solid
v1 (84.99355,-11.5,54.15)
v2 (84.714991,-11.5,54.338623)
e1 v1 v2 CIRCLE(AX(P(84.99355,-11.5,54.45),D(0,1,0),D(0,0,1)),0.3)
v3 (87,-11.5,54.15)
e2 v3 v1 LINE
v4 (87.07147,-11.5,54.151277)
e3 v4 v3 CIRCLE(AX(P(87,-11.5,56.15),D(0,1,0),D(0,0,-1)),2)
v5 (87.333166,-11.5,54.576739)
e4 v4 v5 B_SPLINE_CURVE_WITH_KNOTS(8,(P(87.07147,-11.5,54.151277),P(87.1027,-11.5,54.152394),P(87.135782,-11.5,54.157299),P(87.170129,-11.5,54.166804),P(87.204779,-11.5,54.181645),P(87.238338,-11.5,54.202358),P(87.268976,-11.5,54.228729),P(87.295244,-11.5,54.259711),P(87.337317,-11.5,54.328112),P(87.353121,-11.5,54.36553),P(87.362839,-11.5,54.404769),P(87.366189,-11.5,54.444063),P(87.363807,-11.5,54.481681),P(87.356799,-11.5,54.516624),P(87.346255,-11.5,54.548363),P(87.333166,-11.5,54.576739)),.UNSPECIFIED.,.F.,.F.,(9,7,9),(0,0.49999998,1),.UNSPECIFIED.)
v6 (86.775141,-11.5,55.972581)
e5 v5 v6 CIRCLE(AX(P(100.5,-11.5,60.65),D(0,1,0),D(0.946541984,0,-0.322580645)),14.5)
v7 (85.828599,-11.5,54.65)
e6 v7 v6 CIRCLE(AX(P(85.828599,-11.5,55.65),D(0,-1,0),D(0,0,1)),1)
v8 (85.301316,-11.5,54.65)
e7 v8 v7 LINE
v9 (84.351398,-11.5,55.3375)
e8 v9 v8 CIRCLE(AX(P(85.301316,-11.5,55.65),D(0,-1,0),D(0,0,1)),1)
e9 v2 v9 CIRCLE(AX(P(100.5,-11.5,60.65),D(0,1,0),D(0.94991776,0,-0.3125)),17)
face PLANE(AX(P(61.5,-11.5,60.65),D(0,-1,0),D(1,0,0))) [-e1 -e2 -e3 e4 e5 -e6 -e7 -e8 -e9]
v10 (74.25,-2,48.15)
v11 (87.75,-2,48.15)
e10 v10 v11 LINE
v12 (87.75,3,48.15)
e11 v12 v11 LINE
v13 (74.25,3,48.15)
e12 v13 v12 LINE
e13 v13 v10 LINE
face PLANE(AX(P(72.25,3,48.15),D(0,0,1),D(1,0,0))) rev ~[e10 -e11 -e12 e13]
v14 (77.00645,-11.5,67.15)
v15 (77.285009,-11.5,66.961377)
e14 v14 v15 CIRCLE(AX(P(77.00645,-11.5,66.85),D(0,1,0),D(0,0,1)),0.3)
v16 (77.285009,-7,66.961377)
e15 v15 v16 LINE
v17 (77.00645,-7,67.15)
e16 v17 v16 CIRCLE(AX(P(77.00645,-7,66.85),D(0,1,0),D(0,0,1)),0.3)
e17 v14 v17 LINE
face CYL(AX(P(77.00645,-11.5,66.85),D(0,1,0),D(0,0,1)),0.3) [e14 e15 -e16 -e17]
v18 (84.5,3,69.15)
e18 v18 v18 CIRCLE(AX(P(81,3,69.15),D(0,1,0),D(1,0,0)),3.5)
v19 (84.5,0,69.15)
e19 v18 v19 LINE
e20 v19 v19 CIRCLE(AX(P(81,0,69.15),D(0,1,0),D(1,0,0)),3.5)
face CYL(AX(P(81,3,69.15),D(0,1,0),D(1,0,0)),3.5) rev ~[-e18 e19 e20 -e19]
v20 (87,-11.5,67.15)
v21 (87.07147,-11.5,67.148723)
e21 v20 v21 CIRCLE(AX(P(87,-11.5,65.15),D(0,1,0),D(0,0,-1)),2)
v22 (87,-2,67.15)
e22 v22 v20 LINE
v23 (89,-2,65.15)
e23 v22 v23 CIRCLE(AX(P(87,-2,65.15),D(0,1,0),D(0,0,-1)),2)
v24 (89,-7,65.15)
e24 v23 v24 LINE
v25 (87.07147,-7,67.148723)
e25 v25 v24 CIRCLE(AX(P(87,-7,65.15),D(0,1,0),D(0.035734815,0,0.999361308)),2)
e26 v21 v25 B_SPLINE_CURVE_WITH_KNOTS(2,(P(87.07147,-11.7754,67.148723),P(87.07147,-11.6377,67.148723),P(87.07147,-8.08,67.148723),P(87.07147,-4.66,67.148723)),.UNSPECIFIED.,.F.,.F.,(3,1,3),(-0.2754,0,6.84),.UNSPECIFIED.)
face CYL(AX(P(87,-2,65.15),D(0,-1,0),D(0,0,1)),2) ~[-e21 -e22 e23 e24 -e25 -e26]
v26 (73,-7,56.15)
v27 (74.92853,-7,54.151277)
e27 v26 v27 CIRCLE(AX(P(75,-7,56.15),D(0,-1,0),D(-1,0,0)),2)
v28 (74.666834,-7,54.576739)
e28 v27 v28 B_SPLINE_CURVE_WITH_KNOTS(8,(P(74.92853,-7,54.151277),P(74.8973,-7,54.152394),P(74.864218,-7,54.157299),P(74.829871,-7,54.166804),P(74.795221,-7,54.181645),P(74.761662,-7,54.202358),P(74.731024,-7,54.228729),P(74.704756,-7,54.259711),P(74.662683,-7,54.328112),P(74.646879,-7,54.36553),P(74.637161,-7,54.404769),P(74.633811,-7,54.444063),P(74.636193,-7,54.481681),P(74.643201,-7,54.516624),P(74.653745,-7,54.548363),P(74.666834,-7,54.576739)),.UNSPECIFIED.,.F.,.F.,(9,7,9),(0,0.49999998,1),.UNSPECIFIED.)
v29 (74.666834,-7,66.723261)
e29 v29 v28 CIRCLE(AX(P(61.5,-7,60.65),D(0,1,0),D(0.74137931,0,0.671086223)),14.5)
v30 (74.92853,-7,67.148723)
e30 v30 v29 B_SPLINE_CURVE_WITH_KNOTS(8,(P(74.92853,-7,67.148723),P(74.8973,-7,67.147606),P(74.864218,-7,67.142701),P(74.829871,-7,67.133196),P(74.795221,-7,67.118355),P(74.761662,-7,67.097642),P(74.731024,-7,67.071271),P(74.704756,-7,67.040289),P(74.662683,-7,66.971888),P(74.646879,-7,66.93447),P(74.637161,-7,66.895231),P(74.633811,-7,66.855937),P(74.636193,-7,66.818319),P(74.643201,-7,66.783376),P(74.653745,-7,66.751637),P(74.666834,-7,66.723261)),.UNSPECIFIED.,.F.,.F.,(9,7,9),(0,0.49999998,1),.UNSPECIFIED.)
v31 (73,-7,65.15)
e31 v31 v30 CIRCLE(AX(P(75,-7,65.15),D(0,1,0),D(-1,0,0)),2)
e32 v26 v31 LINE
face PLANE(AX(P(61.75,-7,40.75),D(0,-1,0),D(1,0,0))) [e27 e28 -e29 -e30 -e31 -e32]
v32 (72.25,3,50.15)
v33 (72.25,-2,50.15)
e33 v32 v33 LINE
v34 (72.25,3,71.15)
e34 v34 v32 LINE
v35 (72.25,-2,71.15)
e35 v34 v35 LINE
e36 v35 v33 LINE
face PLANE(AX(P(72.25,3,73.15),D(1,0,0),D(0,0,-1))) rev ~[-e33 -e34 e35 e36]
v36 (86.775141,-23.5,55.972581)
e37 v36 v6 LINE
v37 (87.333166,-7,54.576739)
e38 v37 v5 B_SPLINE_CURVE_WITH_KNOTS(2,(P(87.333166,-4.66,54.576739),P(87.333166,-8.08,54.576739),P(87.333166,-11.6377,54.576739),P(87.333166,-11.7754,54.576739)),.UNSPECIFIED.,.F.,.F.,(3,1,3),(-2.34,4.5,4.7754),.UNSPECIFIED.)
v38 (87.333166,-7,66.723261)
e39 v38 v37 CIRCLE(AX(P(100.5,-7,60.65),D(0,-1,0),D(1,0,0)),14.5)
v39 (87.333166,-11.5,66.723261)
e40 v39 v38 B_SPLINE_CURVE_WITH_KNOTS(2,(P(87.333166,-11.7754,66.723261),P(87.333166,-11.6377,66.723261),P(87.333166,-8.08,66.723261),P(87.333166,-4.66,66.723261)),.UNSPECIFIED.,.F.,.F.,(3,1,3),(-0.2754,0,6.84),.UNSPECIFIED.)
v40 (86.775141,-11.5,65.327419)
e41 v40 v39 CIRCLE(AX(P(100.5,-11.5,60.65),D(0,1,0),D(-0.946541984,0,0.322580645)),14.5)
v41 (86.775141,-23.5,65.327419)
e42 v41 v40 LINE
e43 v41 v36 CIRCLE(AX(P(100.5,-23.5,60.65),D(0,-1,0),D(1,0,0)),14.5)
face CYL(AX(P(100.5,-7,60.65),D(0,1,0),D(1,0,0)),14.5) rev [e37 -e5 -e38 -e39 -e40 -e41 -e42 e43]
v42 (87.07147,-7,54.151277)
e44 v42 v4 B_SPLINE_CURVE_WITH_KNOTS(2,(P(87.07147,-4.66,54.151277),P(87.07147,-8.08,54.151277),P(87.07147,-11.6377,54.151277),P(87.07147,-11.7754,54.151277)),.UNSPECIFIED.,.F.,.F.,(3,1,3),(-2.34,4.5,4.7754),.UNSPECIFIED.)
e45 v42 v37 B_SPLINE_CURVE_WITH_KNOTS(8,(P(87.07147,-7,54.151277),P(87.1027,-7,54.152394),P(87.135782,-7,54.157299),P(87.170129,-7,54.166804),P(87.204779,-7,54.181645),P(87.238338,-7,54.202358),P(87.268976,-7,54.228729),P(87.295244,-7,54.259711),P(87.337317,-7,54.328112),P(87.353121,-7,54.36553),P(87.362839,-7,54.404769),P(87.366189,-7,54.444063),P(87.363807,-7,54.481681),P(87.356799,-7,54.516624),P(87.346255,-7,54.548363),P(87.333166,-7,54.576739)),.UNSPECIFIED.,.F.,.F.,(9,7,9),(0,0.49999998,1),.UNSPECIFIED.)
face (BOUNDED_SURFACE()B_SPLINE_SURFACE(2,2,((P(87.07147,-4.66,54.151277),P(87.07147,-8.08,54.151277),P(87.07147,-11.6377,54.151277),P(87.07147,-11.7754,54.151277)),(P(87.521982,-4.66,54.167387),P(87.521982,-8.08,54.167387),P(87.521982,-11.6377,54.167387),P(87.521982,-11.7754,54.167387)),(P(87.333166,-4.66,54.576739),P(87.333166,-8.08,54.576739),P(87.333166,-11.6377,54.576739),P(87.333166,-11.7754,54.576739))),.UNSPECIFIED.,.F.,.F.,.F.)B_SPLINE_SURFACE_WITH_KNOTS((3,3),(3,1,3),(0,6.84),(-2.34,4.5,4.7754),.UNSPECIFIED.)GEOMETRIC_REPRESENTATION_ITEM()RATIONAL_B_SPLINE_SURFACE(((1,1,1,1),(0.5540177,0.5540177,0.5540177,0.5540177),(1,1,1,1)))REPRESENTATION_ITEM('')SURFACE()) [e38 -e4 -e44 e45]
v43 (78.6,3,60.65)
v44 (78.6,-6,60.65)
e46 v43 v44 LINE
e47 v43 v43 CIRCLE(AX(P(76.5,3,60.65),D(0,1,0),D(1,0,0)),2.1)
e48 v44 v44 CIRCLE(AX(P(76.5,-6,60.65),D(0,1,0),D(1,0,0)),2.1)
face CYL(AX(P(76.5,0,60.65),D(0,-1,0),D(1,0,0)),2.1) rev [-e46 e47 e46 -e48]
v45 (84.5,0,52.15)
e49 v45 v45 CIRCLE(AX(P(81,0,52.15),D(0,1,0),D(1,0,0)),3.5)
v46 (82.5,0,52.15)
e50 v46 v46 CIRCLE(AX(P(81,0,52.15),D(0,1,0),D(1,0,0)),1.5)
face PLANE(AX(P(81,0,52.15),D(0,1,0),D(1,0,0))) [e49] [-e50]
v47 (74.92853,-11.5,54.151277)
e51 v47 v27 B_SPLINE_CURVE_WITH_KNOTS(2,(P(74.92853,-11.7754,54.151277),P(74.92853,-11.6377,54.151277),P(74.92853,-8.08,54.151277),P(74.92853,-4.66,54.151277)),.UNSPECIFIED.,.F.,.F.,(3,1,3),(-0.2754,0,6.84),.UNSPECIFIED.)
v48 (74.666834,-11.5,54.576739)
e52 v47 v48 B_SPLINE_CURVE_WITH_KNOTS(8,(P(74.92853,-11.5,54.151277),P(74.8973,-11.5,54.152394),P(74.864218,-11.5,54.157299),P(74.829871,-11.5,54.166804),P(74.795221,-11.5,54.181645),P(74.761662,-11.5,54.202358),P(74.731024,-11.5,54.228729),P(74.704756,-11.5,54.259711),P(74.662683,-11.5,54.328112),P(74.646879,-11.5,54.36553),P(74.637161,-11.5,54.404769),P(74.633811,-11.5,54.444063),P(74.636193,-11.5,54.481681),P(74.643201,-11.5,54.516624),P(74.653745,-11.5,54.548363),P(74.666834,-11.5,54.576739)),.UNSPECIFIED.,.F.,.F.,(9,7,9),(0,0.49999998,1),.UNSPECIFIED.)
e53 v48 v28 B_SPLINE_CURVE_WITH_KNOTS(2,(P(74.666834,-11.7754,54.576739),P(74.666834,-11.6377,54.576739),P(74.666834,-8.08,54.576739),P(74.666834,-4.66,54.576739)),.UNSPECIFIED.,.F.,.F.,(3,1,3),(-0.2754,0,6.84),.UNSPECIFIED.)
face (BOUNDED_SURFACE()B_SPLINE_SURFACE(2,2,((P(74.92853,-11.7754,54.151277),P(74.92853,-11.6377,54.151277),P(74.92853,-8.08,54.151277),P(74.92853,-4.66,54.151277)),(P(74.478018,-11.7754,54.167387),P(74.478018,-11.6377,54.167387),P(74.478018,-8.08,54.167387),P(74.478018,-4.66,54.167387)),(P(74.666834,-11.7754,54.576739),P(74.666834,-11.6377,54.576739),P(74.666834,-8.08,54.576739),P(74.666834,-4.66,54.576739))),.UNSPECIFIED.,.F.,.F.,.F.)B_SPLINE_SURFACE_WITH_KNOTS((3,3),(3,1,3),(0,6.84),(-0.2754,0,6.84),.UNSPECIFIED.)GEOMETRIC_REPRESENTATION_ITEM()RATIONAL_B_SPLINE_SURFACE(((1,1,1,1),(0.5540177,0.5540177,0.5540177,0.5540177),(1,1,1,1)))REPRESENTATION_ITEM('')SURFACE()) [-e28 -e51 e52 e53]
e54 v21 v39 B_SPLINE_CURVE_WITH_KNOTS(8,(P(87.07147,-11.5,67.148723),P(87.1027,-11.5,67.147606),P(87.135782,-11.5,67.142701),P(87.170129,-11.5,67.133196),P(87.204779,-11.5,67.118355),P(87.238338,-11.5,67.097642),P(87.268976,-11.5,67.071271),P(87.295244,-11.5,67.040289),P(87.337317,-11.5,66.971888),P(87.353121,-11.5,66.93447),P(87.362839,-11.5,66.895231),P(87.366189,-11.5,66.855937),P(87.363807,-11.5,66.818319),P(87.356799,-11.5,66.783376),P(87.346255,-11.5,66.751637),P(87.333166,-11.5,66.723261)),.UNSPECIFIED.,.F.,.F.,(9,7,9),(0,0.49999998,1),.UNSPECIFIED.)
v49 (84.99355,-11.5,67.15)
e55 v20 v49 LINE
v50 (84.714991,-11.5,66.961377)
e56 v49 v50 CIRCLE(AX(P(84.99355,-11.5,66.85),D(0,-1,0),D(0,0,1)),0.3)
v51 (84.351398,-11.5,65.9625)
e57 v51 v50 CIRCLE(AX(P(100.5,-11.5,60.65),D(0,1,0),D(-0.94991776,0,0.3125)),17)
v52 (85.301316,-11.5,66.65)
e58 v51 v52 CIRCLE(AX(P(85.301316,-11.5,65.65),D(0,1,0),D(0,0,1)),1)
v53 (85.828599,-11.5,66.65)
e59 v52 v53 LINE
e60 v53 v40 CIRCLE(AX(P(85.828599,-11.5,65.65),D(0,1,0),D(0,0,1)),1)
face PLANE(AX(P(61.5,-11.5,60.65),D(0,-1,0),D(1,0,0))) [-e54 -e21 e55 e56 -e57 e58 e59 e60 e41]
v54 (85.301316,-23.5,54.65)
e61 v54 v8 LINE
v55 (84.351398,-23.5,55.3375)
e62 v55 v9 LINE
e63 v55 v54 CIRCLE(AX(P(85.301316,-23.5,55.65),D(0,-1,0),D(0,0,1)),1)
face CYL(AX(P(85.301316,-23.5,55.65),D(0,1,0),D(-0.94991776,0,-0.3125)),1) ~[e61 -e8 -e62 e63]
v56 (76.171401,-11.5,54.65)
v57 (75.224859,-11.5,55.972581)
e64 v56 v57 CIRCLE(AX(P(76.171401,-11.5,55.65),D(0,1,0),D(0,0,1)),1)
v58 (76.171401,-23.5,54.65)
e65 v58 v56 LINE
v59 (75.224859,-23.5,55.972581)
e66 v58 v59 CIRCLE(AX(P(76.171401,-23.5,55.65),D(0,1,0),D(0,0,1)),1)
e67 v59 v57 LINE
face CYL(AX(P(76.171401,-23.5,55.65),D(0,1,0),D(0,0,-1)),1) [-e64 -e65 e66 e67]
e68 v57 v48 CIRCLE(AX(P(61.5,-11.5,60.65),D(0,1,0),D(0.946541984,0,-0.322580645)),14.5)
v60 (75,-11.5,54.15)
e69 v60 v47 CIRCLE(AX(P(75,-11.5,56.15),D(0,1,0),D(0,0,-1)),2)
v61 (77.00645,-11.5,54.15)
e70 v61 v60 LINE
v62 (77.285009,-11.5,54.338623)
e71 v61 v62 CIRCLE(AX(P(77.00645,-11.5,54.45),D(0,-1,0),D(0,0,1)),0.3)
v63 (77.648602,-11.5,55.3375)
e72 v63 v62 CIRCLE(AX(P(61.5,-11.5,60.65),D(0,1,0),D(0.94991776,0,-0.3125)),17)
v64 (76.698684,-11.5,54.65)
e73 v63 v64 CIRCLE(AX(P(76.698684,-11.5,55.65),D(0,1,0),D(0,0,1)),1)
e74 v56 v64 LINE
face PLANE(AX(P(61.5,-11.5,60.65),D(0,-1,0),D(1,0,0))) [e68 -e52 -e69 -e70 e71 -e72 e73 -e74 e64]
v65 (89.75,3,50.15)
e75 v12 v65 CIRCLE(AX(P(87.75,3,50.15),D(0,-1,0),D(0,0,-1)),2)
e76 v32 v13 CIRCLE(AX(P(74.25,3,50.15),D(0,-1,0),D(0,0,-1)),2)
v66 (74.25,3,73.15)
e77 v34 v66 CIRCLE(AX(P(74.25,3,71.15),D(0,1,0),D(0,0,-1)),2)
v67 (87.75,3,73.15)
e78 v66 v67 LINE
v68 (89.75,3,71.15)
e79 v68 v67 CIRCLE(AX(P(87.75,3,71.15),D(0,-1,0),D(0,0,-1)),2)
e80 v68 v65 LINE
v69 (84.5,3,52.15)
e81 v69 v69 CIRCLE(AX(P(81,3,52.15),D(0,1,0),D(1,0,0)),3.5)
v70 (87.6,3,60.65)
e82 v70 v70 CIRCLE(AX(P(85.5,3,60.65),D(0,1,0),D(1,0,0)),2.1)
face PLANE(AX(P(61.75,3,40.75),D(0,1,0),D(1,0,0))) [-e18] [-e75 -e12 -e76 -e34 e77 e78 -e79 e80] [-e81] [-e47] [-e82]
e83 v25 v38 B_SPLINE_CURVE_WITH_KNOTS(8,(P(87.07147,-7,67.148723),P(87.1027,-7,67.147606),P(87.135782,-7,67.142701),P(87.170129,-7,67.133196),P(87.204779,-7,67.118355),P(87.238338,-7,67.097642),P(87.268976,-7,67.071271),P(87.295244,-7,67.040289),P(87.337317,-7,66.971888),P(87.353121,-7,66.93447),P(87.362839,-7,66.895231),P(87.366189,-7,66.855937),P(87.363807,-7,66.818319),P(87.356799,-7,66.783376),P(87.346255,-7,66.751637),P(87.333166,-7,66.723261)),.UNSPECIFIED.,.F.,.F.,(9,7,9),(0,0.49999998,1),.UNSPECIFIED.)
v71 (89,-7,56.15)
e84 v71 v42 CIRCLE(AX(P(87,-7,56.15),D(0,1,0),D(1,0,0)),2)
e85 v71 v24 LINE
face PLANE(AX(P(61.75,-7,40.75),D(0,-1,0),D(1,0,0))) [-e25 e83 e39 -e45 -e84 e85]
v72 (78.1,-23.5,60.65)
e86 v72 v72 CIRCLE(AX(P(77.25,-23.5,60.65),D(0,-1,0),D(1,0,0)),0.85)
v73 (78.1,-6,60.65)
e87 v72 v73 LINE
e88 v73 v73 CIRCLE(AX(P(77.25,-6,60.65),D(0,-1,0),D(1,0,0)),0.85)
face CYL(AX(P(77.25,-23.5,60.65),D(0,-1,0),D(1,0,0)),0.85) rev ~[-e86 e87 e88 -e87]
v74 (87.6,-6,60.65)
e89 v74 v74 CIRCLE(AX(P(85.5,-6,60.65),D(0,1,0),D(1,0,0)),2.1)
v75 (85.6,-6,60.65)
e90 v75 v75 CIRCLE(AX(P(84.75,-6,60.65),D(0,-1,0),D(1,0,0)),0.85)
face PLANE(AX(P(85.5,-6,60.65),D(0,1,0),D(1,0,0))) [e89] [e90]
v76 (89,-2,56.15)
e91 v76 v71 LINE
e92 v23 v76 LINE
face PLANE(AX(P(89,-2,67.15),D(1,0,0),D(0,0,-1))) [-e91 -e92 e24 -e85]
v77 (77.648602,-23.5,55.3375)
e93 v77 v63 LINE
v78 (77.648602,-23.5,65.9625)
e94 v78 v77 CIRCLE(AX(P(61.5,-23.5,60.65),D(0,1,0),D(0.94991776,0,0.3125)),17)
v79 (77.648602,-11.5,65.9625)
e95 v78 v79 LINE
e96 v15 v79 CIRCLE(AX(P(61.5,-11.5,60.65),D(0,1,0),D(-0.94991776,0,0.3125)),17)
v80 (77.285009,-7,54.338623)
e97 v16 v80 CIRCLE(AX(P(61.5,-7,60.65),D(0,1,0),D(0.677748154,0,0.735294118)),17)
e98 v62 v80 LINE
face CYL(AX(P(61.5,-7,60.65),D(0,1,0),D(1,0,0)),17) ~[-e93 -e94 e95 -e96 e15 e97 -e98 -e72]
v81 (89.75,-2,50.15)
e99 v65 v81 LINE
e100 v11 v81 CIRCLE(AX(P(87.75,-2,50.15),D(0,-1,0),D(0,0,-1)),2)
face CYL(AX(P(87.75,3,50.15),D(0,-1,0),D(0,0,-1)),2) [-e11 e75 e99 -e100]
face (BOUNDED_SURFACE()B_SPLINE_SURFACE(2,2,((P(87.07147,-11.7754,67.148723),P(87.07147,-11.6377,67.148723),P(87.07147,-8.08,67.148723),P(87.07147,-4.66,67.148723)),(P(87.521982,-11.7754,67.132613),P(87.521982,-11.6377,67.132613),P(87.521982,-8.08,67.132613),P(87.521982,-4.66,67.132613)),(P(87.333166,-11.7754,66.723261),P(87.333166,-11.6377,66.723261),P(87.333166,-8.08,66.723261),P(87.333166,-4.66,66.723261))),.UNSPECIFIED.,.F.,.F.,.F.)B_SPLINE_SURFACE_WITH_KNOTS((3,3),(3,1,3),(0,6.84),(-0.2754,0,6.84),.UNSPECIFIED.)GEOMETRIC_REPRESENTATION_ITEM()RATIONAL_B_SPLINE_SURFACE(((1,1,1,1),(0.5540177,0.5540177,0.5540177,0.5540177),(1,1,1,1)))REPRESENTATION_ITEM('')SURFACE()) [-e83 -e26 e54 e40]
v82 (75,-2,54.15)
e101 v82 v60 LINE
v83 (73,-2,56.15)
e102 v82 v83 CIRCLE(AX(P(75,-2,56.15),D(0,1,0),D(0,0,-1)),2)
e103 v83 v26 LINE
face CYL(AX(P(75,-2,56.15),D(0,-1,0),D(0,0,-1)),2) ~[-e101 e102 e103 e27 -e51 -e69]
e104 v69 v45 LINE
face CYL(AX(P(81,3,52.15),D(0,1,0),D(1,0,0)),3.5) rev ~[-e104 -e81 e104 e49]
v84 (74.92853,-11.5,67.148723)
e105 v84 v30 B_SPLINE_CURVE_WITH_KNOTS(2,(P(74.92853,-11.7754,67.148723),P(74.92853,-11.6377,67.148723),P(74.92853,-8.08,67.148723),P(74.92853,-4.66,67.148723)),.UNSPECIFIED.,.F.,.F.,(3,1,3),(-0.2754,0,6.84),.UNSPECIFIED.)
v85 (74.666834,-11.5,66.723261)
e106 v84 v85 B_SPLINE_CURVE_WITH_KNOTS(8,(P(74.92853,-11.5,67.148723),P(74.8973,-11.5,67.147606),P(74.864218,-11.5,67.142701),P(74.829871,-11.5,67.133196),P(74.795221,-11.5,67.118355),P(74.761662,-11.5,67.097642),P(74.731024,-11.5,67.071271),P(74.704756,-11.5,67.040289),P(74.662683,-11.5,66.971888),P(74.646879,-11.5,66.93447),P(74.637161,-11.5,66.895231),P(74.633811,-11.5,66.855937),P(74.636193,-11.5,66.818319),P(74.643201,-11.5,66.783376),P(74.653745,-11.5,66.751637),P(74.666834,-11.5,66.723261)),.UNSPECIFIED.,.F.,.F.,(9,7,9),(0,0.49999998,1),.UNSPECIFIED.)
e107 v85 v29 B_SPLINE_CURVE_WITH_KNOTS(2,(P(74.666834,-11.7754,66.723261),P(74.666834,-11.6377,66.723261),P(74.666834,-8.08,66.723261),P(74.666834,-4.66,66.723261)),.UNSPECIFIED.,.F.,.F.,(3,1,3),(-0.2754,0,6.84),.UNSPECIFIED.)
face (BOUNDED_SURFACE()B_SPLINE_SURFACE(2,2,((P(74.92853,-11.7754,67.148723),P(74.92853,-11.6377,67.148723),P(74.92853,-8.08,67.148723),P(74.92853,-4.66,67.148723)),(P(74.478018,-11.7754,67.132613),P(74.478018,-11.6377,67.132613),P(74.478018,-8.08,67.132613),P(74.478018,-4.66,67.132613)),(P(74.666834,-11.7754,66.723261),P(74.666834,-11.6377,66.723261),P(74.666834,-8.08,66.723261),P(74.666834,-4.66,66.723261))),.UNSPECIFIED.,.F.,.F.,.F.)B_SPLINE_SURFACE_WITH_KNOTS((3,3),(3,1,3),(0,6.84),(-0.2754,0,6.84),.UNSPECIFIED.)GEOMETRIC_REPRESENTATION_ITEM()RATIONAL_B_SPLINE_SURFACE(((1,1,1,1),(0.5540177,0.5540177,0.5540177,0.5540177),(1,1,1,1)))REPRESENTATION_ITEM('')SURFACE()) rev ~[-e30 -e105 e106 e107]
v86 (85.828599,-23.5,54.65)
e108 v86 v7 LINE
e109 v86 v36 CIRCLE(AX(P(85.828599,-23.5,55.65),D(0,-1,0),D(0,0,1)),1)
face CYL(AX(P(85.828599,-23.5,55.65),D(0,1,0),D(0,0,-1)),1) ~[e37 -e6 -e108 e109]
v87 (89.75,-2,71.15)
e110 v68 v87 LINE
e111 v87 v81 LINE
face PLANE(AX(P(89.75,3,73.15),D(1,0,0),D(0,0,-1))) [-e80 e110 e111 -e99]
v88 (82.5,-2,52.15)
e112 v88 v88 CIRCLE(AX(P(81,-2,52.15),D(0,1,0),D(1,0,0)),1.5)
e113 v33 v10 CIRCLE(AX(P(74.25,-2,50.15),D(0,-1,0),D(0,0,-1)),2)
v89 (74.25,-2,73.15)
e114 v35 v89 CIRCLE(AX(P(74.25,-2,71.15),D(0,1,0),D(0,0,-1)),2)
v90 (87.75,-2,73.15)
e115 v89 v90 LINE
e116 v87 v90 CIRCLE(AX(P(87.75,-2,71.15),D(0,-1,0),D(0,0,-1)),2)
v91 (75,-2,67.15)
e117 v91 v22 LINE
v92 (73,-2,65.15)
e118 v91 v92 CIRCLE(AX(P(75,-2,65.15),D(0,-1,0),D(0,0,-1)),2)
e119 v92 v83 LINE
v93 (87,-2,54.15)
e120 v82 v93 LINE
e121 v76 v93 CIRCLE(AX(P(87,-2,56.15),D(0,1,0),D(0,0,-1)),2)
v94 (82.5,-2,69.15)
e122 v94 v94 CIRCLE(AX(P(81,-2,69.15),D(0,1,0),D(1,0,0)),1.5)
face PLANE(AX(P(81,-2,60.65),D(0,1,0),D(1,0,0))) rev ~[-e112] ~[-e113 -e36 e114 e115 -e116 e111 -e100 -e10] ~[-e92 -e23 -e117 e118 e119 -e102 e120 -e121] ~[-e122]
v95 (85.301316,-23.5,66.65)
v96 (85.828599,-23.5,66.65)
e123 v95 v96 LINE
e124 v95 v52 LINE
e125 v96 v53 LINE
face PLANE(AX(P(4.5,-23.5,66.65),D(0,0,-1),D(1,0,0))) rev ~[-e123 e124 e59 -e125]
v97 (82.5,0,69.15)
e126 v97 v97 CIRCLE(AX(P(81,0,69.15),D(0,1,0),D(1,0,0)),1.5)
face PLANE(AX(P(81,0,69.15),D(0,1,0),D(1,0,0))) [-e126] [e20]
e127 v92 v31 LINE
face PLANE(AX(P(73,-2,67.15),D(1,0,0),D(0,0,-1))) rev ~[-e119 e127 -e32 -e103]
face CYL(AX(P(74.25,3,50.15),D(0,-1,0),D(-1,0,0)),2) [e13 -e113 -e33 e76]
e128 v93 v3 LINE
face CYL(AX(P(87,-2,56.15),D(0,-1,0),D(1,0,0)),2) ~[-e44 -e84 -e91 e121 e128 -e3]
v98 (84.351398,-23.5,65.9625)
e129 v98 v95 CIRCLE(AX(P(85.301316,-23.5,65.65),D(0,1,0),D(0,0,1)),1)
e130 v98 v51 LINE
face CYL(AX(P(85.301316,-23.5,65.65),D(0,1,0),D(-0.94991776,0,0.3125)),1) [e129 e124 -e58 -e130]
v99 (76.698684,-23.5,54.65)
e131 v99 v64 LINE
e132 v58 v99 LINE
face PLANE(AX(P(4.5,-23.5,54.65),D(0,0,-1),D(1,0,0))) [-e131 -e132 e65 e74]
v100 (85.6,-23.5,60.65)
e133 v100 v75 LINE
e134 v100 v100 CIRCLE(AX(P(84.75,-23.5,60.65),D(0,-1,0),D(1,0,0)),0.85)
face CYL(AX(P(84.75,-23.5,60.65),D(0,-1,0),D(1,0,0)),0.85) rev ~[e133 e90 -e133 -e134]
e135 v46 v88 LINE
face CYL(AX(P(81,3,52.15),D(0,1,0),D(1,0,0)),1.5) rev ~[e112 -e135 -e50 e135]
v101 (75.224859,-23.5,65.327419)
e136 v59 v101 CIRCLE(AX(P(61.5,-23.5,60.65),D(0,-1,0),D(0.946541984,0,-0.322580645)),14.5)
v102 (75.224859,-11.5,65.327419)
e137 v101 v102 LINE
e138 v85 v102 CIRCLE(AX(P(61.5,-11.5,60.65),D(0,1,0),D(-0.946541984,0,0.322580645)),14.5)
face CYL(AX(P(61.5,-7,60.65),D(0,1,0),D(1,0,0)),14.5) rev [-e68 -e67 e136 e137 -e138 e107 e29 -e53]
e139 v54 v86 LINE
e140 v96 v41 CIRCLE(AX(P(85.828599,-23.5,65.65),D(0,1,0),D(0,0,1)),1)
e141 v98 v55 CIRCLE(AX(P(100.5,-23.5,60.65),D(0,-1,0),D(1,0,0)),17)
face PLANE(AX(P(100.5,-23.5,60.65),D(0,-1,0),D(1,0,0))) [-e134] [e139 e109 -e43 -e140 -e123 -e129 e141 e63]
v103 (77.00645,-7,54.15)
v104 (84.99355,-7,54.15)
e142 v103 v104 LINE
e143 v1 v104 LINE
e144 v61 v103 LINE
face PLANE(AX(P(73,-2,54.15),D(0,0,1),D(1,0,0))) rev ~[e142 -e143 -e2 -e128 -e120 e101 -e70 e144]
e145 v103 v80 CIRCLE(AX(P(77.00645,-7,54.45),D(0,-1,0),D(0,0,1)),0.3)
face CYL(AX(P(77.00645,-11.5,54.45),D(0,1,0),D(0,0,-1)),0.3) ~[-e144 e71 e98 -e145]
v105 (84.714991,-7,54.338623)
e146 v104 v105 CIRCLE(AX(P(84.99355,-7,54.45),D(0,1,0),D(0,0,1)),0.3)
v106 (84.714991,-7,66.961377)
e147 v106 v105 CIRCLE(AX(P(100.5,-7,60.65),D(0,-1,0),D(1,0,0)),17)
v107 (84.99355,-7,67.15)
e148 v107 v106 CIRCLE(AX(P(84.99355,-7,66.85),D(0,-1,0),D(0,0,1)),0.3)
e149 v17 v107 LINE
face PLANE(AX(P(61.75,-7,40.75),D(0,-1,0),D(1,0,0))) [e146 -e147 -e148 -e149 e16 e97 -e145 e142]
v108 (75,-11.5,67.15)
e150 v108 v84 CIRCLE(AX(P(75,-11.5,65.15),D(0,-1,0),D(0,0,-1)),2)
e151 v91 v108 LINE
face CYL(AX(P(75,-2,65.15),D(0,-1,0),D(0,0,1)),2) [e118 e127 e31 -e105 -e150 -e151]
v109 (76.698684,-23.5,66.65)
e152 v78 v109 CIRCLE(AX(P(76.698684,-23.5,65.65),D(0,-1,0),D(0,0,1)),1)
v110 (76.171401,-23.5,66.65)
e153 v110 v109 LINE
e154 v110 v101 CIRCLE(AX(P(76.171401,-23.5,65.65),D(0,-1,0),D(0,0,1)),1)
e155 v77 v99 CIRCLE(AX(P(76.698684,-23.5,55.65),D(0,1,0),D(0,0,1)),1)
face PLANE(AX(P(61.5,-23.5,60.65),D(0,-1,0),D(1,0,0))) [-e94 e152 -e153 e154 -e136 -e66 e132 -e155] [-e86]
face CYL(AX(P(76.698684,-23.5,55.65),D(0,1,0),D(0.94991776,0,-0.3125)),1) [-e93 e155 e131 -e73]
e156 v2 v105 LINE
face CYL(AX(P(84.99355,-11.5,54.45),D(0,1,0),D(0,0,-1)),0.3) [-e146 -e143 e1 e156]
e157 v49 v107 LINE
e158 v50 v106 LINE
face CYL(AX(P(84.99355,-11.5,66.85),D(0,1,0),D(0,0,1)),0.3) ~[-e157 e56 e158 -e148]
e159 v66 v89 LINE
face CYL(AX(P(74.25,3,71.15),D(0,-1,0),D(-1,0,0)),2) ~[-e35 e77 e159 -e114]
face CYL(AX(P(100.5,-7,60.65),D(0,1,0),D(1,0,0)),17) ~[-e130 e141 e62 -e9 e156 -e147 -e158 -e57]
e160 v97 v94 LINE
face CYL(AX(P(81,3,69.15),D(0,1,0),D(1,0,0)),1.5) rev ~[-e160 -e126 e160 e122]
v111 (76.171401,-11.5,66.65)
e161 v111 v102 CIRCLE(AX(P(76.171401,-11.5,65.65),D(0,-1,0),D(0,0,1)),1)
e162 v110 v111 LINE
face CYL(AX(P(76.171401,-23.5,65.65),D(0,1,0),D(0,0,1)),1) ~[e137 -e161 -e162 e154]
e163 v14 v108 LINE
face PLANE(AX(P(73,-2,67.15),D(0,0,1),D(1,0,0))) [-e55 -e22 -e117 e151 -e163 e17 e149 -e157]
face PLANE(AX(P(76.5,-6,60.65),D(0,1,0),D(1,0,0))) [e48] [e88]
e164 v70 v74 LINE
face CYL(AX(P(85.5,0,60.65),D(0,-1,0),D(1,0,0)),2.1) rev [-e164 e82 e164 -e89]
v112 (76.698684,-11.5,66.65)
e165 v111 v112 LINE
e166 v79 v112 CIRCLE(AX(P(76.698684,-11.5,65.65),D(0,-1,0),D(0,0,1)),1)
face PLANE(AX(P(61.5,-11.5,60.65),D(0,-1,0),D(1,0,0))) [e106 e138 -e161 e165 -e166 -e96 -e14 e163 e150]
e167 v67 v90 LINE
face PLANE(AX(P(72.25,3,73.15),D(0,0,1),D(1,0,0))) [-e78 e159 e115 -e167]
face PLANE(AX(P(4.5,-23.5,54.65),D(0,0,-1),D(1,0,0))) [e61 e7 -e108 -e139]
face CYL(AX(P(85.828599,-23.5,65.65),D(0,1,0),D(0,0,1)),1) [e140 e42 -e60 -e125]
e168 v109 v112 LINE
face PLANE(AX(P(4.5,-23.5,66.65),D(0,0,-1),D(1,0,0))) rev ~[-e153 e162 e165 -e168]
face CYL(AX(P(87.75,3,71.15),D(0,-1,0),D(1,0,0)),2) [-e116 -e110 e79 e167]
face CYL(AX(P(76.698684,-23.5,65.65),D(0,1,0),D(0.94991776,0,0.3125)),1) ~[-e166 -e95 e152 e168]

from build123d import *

# Parameters (mm, degrees)
SKETCH1_W           = 123.5
SKETCH1_H           = 81.5
BOSS_EXTRUDE1_DEPTH = 8
CHAMFER1_SIZE       = 10
SKETCH2_W           = 130
SKETCH2_H           = 88
BOSS_EXTRUDE2_DEPTH = 9
FILLET1_R           = 2
SKETCH3_W           = 124
SKETCH3_H           = 82
CUT_EXTRUDE1_DEPTH  = 2
FILLET2_R           = 2
SKETCH4_R           = 10
CUT_EXTRUDE2_DEPTH  = 18
SKETCH5_R           = 17
SKETCH5_R_2         = 14.5
BOSS_EXTRUDE3_DEPTH = 16.5
SKETCH6_W           = 170
SKETCH6_H           = 36.5
SKETCH6_W_2         = 114
SKETCH6_H_2         = 12
CUT_EXTRUDE3_DEPTH  = 12
FILLET3_R           = 1
SKETCH7_R           = 0.85
CUT_EXTRUDE4_DEPTH  = 20.75
SKETCH11_W          = 130
SKETCH11_H          = 10
CUT_EXTRUDE8_DEPTH  = 85.75
SKETCH13_R          = 2.1
CUT_EXTRUDE9_DEPTH  = 6
SKETCH15_R          = 2.1
SKETCH15_R_2        = 10
BOSS_EXTRUDE4_DEPTH = 3
SKETCH16_W          = 167.35282603
SKETCH16_H          = 111.231485579
SKETCH16_W_2        = 17.5
SKETCH16_H_2        = 25
CUT_EXTRUDE10_DEPTH = 27.5
CUT_EXTRUDE11_START = -5
SKETCH17_W          = 17.5
SKETCH17_H          = 25
SKETCH17_W_2        = 16
SKETCH17_H_2        = 13
CUT_EXTRUDE11_DEPTH = 22.5
FILLET4_R           = 2
SKETCH18_R          = 1.5
CUT_EXTRUDE12_DEPTH = 10
SKETCH19_R          = 3.5
CUT_EXTRUDE13_DEPTH = 3
FILLET5_R           = 0.3


with BuildPart() as part:
    # Sketch1 → Boss-Extrude1 (new body)
    with BuildSketch(Plane(origin=(0, 0, 0), x_dir=(1, 0, 0), z_dir=(0, 1, 0))):
        with Locations((61.75, -40.75)):
            Rectangle(SKETCH1_W, SKETCH1_H)
    extrude(amount=BOSS_EXTRUDE1_DEPTH)

    # Chamfer1
    chamfer1_edges = [part.edges().sort_by_distance(p)[0] for p in [
        (123.5, 4, 0),
        (123.5, 4, 81.5),
    ]]
    chamfer(chamfer1_edges, length=CHAMFER1_SIZE)

    # Sketch2 → Boss-Extrude2 (add)
    with BuildSketch(Plane.XZ):
        with Locations((61.75, 40.75)):
            Rectangle(SKETCH2_W, SKETCH2_H)
    extrude(amount=BOSS_EXTRUDE2_DEPTH)

    # Fillet1
    fillet1_edges = [part.edges().sort_by_distance(p)[0] for p in [
        (113.5, 4, 0),
        (123.5, 4, 71.5),
        (123.5, 4, 10),
        (113.5, 4, 81.5),
        (-3.25, -4.5, 84.75),
        (-3.25, -4.5, -3.25),
        (126.75, -4.5, -3.25),
        (126.75, -4.5, 84.75),
        (0, 4, 0),
        (0, 4, 81.5),
    ]]
    fillet(fillet1_edges, radius=FILLET1_R)

    # Sketch3 → Cut-Extrude1 (cut)
    with BuildSketch(Plane.XZ.offset(9)):
        with Locations((61.75, 40.75)):
            Rectangle(SKETCH3_W, SKETCH3_H)
    extrude(amount=-CUT_EXTRUDE1_DEPTH, mode=Mode.SUBTRACT)

    # Fillet2
    fillet2_edges = [part.edges().sort_by_distance(p)[0] for p in [
        (-0.25, -8, -0.25),
        (-0.25, -8, 81.75),
        (123.75, -8, 81.75),
        (123.75, -8, -0.25),
    ]]
    fillet(fillet2_edges, radius=FILLET2_R)

    # Sketch4 → Cut-Extrude2 (cut, through all)
    with BuildSketch(Plane(origin=(0, 8, 0), x_dir=(1, 0, 0), z_dir=(0, 1, 0))):
        with Locations((22.5, -20.85)):
            Circle(SKETCH4_R)
        with Locations((61.5, -20.85)):
            Circle(SKETCH4_R)
        with Locations((100.5, -20.85)):
            Circle(SKETCH4_R)
        with Locations((100.5, -60.65)):
            Circle(SKETCH4_R)
        with Locations((61.5, -60.65)):
            Circle(SKETCH4_R)
        with Locations((22.5, -60.65)):
            Circle(SKETCH4_R)
    extrude(amount=-CUT_EXTRUDE2_DEPTH, mode=Mode.SUBTRACT)

    # Sketch5 → Boss-Extrude3 (add)
    with BuildSketch(Plane.XZ.offset(7)):
        with Locations((22.5, 60.65)):
            Circle(SKETCH5_R)
        with Locations((22.5, 60.65)):
            Circle(SKETCH5_R_2, mode=Mode.SUBTRACT)
        with Locations((61.5, 60.65)):
            Circle(SKETCH5_R)
        with Locations((61.5, 60.65)):
            Circle(SKETCH5_R_2, mode=Mode.SUBTRACT)
        with Locations((100.5, 60.65)):
            Circle(SKETCH5_R)
        with Locations((100.5, 60.65)):
            Circle(SKETCH5_R_2, mode=Mode.SUBTRACT)
        with Locations((100.5, 20.85)):
            Circle(SKETCH5_R)
        with Locations((100.5, 20.85)):
            Circle(SKETCH5_R_2, mode=Mode.SUBTRACT)
        with Locations((61.5, 20.85)):
            Circle(SKETCH5_R)
        with Locations((61.5, 20.85)):
            Circle(SKETCH5_R_2, mode=Mode.SUBTRACT)
        with Locations((22.5, 20.85)):
            Circle(SKETCH5_R)
        with Locations((22.5, 20.85)):
            Circle(SKETCH5_R_2, mode=Mode.SUBTRACT)
    extrude(amount=BOSS_EXTRUDE3_DEPTH)

    # Sketch6 → Cut-Extrude3 (cut)
    with BuildSketch(Plane.XZ.offset(23.5)):
        with Locations((61.5, 20.85)):
            Rectangle(SKETCH6_W, SKETCH6_H)
        with Locations((61.5, 20.85)):
            Rectangle(SKETCH6_W_2, SKETCH6_H_2, mode=Mode.SUBTRACT)
        with Locations((61.5, 60.65)):
            Rectangle(SKETCH6_W, SKETCH6_H)
        with Locations((61.5, 60.65)):
            Rectangle(SKETCH6_W_2, SKETCH6_H_2, mode=Mode.SUBTRACT)
    extrude(amount=-CUT_EXTRUDE3_DEPTH, mode=Mode.SUBTRACT)

    # Fillet3
    fillet3_edges = [part.edges().sort_by_distance(p)[0] for p in [
        (87.299621218, -17.5, 66.65),
        (113.700378782, -17.5, 66.65),
        (113.700378782, -17.5, 54.65),
        (87.299621218, -17.5, 54.65),
        (9.299621218, -17.5, 54.65),
        (35.700378782, -17.5, 54.65),
        (6.594026279, -17.5, 54.65),
        (48.299621218, -17.5, 54.65),
        (74.700378782, -17.5, 54.65),
        (38.405973721, -17.5, 54.65),
        (45.594026279, -17.5, 54.65),
        (77.405973721, -17.5, 54.65),
        (84.594026279, -17.5, 54.65),
        (35.700378782, -17.5, 66.65),
        (9.299621218, -17.5, 66.65),
        (38.405973721, -17.5, 66.65),
        (45.594026279, -17.5, 66.65),
        (74.700378782, -17.5, 66.65),
        (48.299621218, -17.5, 66.65),
        (77.405973721, -17.5, 66.65),
        (84.594026279, -17.5, 66.65),
        (116.405973721, -17.5, 66.65),
        (116.405973721, -17.5, 54.65),
        (6.594026279, -17.5, 66.65),
        (35.700378782, -17.5, 14.85),
        (9.299621218, -17.5, 14.85),
        (9.299621218, -17.5, 26.85),
        (35.700378782, -17.5, 26.85),
        (113.700378782, -17.5, 26.85),
        (87.299621218, -17.5, 26.85),
        (116.405973721, -17.5, 26.85),
        (74.700378782, -17.5, 26.85),
        (48.299621218, -17.5, 26.85),
        (84.594026279, -17.5, 26.85),
        (77.405973721, -17.5, 26.85),
        (45.594026279, -17.5, 26.85),
        (38.405973721, -17.5, 26.85),
        (87.299621218, -17.5, 14.85),
        (113.700378782, -17.5, 14.85),
        (84.594026279, -17.5, 14.85),
        (77.405973721, -17.5, 14.85),
        (48.299621218, -17.5, 14.85),
        (74.700378782, -17.5, 14.85),
        (45.594026279, -17.5, 14.85),
        (38.405973721, -17.5, 14.85),
        (6.594026279, -17.5, 14.85),
        (6.594026279, -17.5, 26.85),
        (116.405973721, -17.5, 14.85),
    ]]
    fillet(fillet3_edges, radius=FILLET3_R)

    # Sketch7 → Cut-Extrude4 (cut)
    with BuildSketch(Plane.XZ.offset(23.5)):
        with Locations((6.75, 20.85)):
            Circle(SKETCH7_R)
        with Locations((38.25, 20.85)):
            Circle(SKETCH7_R)
        with Locations((45.75, 20.85)):
            Circle(SKETCH7_R)
        with Locations((77.25, 20.85)):
            Circle(SKETCH7_R)
        with Locations((84.75, 20.85)):
            Circle(SKETCH7_R)
        with Locations((116.25, 20.85)):
            Circle(SKETCH7_R)
        with Locations((116.25, 60.65)):
            Circle(SKETCH7_R)
        with Locations((84.75, 60.65)):
            Circle(SKETCH7_R)
        with Locations((77.25, 60.65)):
            Circle(SKETCH7_R)
        with Locations((45.75, 60.65)):
            Circle(SKETCH7_R)
        with Locations((38.25, 60.65)):
            Circle(SKETCH7_R)
        with Locations((6.75, 60.65)):
            Circle(SKETCH7_R)
    extrude(amount=-CUT_EXTRUDE4_DEPTH, mode=Mode.SUBTRACT)

    # Sketch11 → Cut-Extrude8 (cut, through all)
    with BuildSketch(Plane(origin=(0, 0, 0), x_dir=(-1, 0, 0), z_dir=(0, 0, -1))):
        with Locations((-61.75, 5)):
            Rectangle(SKETCH11_W, SKETCH11_H)
    extrude(amount=-CUT_EXTRUDE8_DEPTH, mode=Mode.SUBTRACT)

    # Sketch13 → Cut-Extrude9 (cut)
    with BuildSketch(Plane(origin=(0, 0, 0), x_dir=(1, 0, 0), z_dir=(0, 1, 0))):
        with Locations((116.25, -60.65)):
            Circle(SKETCH13_R)
        with Locations((85.5, -60.65)):
            Circle(SKETCH13_R)
        with Locations((76.5, -60.65)):
            Circle(SKETCH13_R)
        with Locations((116.25, -20.85)):
            Circle(SKETCH13_R)
        with Locations((85.5, -20.85)):
            Circle(SKETCH13_R)
        with Locations((76.5, -20.85)):
            Circle(SKETCH13_R)
        with Locations((46.5, -20.85)):
            Circle(SKETCH13_R)
        with Locations((37.5, -20.85)):
            Circle(SKETCH13_R)
        with Locations((6.75, -20.85)):
            Circle(SKETCH13_R)
        with Locations((6.75, -60.65)):
            Circle(SKETCH13_R)
        with Locations((37.5, -60.65)):
            Circle(SKETCH13_R)
        with Locations((46.5, -60.65)):
            Circle(SKETCH13_R)
    extrude(amount=-CUT_EXTRUDE9_DEPTH, mode=Mode.SUBTRACT)

    # Sketch15 → Boss-Extrude4 (add)
    with BuildSketch(Plane(origin=(0, 0, 0), x_dir=(1, 0, 0), z_dir=(0, 1, 0))):
        with BuildLine():
            Line((126.75, -82.75), (126.75, 1.25))
            ThreePointArc((126.75, 1.25), (126.164213562, 2.664213562), (124.75, 3.25))
            Line((124.75, 3.25), (-1.25, 3.25))
            ThreePointArc((-1.25, 3.25), (-2.664213562, 2.664213562), (-3.25, 1.25))
            Line((-3.25, 1.25), (-3.25, -82.75))
            ThreePointArc((-3.25, -82.75), (-2.664213562, -84.164213562), (-1.25, -84.75))
            Line((-1.25, -84.75), (124.75, -84.75))
            ThreePointArc((124.75, -84.75), (126.164213562, -84.164213562), (126.75, -82.75))
        make_face()
        with Locations((6.75, -60.65)):
            Circle(SKETCH15_R, mode=Mode.SUBTRACT)
        with Locations((22.5, -60.65)):
            Circle(SKETCH15_R_2, mode=Mode.SUBTRACT)
        with Locations((37.5, -60.65)):
            Circle(SKETCH15_R, mode=Mode.SUBTRACT)
        with Locations((46.5, -60.65)):
            Circle(SKETCH15_R, mode=Mode.SUBTRACT)
        with Locations((61.5, -60.65)):
            Circle(SKETCH15_R_2, mode=Mode.SUBTRACT)
        with Locations((76.5, -60.65)):
            Circle(SKETCH15_R, mode=Mode.SUBTRACT)
        with Locations((100.5, -60.65)):
            Circle(SKETCH15_R_2, mode=Mode.SUBTRACT)
        with Locations((116.25, -60.65)):
            Circle(SKETCH15_R, mode=Mode.SUBTRACT)
        with Locations((116.25, -20.85)):
            Circle(SKETCH15_R, mode=Mode.SUBTRACT)
        with Locations((100.5, -20.85)):
            Circle(SKETCH15_R_2, mode=Mode.SUBTRACT)
        with Locations((85.5, -20.85)):
            Circle(SKETCH15_R, mode=Mode.SUBTRACT)
        with Locations((76.5, -20.85)):
            Circle(SKETCH15_R, mode=Mode.SUBTRACT)
        with Locations((61.5, -20.85)):
            Circle(SKETCH15_R_2, mode=Mode.SUBTRACT)
        with Locations((46.5, -20.85)):
            Circle(SKETCH15_R, mode=Mode.SUBTRACT)
        with Locations((37.5, -20.85)):
            Circle(SKETCH15_R, mode=Mode.SUBTRACT)
        with Locations((22.5, -20.85)):
            Circle(SKETCH15_R_2, mode=Mode.SUBTRACT)
        with Locations((85.5, -60.65)):
            Circle(SKETCH15_R, mode=Mode.SUBTRACT)
        with Locations((6.75, -20.85)):
            Circle(SKETCH15_R, mode=Mode.SUBTRACT)
    extrude(amount=BOSS_EXTRUDE4_DEPTH)

    # Sketch16 → Cut-Extrude10 (cut, through all)
    with BuildSketch(Plane(origin=(0, 3, 0), x_dir=(1, 0, 0), z_dir=(0, 1, 0))):
        with Locations((62.017342261, -41.761195324)):
            Rectangle(SKETCH16_W, SKETCH16_H)
        with Locations((81, -60.65)):
            Rectangle(SKETCH16_W_2, SKETCH16_H_2, mode=Mode.SUBTRACT)
    extrude(amount=-CUT_EXTRUDE10_DEPTH, mode=Mode.SUBTRACT)

    # Sketch17 → Cut-Extrude11 (cut, through all)
    with BuildSketch(Plane(origin=(0, 3, 0), x_dir=(1, 0, 0), z_dir=(0, 1, 0)).offset(CUT_EXTRUDE11_START)):
        with Locations((81, -60.65)):
            Rectangle(SKETCH17_W, SKETCH17_H)
        with Locations((81, -60.65)):
            Rectangle(SKETCH17_W_2, SKETCH17_H_2, mode=Mode.SUBTRACT)
    extrude(amount=-CUT_EXTRUDE11_DEPTH, mode=Mode.SUBTRACT)

    # Fillet4
    fillet4_edges = [part.edges().sort_by_distance(p)[0] for p in [
        (72.25, 0.5, 73.15),
        (89.75, 0.5, 73.15),
        (73, -4.5, 54.15),
        (89, -4.5, 54.15),
        (72.25, 0.5, 48.15),
        (89.75, 0.5, 48.15),
        (73, -4.5, 67.15),
        (89, -4.5, 67.15),
    ]]
    fillet(fillet4_edges, radius=FILLET4_R)

    # Sketch18 → Cut-Extrude12 (cut)
    with BuildSketch(Plane(origin=(0, 3, 0), x_dir=(1, 0, 0), z_dir=(0, 1, 0))):
        with Locations((81, -52.15)):
            Circle(SKETCH18_R)
        with Locations((81, -69.15)):
            Circle(SKETCH18_R)
    extrude(amount=-CUT_EXTRUDE12_DEPTH, mode=Mode.SUBTRACT)

    # Sketch19 → Cut-Extrude13 (cut)
    with BuildSketch(Plane(origin=(0, 3, 0), x_dir=(1, 0, 0), z_dir=(0, 1, 0))):
        with Locations((81, -52.15)):
            Circle(SKETCH19_R)
        with Locations((81, -69.15)):
            Circle(SKETCH19_R)
    extrude(amount=-CUT_EXTRUDE13_DEPTH, mode=Mode.SUBTRACT)

    # Fillet5
    fillet5_edges = [part.edges().sort_by_distance(p)[0] for p in [
        (77.208278072, -9.25, 67.15),
        (84.791721928, -9.25, 67.15),
        (84.791721928, -9.25, 54.15),
        (77.208278072, -9.25, 54.15),
        (74.493918477, -9.25, 54.215088764),
        (74.493918477, -9.25, 67.084911236),
        (87.506081523, -9.25, 54.215088764),
        (87.506081523, -9.25, 67.084911236),
    ]]
    fillet(fillet5_edges, radius=FILLET5_R)


solid = part.part
